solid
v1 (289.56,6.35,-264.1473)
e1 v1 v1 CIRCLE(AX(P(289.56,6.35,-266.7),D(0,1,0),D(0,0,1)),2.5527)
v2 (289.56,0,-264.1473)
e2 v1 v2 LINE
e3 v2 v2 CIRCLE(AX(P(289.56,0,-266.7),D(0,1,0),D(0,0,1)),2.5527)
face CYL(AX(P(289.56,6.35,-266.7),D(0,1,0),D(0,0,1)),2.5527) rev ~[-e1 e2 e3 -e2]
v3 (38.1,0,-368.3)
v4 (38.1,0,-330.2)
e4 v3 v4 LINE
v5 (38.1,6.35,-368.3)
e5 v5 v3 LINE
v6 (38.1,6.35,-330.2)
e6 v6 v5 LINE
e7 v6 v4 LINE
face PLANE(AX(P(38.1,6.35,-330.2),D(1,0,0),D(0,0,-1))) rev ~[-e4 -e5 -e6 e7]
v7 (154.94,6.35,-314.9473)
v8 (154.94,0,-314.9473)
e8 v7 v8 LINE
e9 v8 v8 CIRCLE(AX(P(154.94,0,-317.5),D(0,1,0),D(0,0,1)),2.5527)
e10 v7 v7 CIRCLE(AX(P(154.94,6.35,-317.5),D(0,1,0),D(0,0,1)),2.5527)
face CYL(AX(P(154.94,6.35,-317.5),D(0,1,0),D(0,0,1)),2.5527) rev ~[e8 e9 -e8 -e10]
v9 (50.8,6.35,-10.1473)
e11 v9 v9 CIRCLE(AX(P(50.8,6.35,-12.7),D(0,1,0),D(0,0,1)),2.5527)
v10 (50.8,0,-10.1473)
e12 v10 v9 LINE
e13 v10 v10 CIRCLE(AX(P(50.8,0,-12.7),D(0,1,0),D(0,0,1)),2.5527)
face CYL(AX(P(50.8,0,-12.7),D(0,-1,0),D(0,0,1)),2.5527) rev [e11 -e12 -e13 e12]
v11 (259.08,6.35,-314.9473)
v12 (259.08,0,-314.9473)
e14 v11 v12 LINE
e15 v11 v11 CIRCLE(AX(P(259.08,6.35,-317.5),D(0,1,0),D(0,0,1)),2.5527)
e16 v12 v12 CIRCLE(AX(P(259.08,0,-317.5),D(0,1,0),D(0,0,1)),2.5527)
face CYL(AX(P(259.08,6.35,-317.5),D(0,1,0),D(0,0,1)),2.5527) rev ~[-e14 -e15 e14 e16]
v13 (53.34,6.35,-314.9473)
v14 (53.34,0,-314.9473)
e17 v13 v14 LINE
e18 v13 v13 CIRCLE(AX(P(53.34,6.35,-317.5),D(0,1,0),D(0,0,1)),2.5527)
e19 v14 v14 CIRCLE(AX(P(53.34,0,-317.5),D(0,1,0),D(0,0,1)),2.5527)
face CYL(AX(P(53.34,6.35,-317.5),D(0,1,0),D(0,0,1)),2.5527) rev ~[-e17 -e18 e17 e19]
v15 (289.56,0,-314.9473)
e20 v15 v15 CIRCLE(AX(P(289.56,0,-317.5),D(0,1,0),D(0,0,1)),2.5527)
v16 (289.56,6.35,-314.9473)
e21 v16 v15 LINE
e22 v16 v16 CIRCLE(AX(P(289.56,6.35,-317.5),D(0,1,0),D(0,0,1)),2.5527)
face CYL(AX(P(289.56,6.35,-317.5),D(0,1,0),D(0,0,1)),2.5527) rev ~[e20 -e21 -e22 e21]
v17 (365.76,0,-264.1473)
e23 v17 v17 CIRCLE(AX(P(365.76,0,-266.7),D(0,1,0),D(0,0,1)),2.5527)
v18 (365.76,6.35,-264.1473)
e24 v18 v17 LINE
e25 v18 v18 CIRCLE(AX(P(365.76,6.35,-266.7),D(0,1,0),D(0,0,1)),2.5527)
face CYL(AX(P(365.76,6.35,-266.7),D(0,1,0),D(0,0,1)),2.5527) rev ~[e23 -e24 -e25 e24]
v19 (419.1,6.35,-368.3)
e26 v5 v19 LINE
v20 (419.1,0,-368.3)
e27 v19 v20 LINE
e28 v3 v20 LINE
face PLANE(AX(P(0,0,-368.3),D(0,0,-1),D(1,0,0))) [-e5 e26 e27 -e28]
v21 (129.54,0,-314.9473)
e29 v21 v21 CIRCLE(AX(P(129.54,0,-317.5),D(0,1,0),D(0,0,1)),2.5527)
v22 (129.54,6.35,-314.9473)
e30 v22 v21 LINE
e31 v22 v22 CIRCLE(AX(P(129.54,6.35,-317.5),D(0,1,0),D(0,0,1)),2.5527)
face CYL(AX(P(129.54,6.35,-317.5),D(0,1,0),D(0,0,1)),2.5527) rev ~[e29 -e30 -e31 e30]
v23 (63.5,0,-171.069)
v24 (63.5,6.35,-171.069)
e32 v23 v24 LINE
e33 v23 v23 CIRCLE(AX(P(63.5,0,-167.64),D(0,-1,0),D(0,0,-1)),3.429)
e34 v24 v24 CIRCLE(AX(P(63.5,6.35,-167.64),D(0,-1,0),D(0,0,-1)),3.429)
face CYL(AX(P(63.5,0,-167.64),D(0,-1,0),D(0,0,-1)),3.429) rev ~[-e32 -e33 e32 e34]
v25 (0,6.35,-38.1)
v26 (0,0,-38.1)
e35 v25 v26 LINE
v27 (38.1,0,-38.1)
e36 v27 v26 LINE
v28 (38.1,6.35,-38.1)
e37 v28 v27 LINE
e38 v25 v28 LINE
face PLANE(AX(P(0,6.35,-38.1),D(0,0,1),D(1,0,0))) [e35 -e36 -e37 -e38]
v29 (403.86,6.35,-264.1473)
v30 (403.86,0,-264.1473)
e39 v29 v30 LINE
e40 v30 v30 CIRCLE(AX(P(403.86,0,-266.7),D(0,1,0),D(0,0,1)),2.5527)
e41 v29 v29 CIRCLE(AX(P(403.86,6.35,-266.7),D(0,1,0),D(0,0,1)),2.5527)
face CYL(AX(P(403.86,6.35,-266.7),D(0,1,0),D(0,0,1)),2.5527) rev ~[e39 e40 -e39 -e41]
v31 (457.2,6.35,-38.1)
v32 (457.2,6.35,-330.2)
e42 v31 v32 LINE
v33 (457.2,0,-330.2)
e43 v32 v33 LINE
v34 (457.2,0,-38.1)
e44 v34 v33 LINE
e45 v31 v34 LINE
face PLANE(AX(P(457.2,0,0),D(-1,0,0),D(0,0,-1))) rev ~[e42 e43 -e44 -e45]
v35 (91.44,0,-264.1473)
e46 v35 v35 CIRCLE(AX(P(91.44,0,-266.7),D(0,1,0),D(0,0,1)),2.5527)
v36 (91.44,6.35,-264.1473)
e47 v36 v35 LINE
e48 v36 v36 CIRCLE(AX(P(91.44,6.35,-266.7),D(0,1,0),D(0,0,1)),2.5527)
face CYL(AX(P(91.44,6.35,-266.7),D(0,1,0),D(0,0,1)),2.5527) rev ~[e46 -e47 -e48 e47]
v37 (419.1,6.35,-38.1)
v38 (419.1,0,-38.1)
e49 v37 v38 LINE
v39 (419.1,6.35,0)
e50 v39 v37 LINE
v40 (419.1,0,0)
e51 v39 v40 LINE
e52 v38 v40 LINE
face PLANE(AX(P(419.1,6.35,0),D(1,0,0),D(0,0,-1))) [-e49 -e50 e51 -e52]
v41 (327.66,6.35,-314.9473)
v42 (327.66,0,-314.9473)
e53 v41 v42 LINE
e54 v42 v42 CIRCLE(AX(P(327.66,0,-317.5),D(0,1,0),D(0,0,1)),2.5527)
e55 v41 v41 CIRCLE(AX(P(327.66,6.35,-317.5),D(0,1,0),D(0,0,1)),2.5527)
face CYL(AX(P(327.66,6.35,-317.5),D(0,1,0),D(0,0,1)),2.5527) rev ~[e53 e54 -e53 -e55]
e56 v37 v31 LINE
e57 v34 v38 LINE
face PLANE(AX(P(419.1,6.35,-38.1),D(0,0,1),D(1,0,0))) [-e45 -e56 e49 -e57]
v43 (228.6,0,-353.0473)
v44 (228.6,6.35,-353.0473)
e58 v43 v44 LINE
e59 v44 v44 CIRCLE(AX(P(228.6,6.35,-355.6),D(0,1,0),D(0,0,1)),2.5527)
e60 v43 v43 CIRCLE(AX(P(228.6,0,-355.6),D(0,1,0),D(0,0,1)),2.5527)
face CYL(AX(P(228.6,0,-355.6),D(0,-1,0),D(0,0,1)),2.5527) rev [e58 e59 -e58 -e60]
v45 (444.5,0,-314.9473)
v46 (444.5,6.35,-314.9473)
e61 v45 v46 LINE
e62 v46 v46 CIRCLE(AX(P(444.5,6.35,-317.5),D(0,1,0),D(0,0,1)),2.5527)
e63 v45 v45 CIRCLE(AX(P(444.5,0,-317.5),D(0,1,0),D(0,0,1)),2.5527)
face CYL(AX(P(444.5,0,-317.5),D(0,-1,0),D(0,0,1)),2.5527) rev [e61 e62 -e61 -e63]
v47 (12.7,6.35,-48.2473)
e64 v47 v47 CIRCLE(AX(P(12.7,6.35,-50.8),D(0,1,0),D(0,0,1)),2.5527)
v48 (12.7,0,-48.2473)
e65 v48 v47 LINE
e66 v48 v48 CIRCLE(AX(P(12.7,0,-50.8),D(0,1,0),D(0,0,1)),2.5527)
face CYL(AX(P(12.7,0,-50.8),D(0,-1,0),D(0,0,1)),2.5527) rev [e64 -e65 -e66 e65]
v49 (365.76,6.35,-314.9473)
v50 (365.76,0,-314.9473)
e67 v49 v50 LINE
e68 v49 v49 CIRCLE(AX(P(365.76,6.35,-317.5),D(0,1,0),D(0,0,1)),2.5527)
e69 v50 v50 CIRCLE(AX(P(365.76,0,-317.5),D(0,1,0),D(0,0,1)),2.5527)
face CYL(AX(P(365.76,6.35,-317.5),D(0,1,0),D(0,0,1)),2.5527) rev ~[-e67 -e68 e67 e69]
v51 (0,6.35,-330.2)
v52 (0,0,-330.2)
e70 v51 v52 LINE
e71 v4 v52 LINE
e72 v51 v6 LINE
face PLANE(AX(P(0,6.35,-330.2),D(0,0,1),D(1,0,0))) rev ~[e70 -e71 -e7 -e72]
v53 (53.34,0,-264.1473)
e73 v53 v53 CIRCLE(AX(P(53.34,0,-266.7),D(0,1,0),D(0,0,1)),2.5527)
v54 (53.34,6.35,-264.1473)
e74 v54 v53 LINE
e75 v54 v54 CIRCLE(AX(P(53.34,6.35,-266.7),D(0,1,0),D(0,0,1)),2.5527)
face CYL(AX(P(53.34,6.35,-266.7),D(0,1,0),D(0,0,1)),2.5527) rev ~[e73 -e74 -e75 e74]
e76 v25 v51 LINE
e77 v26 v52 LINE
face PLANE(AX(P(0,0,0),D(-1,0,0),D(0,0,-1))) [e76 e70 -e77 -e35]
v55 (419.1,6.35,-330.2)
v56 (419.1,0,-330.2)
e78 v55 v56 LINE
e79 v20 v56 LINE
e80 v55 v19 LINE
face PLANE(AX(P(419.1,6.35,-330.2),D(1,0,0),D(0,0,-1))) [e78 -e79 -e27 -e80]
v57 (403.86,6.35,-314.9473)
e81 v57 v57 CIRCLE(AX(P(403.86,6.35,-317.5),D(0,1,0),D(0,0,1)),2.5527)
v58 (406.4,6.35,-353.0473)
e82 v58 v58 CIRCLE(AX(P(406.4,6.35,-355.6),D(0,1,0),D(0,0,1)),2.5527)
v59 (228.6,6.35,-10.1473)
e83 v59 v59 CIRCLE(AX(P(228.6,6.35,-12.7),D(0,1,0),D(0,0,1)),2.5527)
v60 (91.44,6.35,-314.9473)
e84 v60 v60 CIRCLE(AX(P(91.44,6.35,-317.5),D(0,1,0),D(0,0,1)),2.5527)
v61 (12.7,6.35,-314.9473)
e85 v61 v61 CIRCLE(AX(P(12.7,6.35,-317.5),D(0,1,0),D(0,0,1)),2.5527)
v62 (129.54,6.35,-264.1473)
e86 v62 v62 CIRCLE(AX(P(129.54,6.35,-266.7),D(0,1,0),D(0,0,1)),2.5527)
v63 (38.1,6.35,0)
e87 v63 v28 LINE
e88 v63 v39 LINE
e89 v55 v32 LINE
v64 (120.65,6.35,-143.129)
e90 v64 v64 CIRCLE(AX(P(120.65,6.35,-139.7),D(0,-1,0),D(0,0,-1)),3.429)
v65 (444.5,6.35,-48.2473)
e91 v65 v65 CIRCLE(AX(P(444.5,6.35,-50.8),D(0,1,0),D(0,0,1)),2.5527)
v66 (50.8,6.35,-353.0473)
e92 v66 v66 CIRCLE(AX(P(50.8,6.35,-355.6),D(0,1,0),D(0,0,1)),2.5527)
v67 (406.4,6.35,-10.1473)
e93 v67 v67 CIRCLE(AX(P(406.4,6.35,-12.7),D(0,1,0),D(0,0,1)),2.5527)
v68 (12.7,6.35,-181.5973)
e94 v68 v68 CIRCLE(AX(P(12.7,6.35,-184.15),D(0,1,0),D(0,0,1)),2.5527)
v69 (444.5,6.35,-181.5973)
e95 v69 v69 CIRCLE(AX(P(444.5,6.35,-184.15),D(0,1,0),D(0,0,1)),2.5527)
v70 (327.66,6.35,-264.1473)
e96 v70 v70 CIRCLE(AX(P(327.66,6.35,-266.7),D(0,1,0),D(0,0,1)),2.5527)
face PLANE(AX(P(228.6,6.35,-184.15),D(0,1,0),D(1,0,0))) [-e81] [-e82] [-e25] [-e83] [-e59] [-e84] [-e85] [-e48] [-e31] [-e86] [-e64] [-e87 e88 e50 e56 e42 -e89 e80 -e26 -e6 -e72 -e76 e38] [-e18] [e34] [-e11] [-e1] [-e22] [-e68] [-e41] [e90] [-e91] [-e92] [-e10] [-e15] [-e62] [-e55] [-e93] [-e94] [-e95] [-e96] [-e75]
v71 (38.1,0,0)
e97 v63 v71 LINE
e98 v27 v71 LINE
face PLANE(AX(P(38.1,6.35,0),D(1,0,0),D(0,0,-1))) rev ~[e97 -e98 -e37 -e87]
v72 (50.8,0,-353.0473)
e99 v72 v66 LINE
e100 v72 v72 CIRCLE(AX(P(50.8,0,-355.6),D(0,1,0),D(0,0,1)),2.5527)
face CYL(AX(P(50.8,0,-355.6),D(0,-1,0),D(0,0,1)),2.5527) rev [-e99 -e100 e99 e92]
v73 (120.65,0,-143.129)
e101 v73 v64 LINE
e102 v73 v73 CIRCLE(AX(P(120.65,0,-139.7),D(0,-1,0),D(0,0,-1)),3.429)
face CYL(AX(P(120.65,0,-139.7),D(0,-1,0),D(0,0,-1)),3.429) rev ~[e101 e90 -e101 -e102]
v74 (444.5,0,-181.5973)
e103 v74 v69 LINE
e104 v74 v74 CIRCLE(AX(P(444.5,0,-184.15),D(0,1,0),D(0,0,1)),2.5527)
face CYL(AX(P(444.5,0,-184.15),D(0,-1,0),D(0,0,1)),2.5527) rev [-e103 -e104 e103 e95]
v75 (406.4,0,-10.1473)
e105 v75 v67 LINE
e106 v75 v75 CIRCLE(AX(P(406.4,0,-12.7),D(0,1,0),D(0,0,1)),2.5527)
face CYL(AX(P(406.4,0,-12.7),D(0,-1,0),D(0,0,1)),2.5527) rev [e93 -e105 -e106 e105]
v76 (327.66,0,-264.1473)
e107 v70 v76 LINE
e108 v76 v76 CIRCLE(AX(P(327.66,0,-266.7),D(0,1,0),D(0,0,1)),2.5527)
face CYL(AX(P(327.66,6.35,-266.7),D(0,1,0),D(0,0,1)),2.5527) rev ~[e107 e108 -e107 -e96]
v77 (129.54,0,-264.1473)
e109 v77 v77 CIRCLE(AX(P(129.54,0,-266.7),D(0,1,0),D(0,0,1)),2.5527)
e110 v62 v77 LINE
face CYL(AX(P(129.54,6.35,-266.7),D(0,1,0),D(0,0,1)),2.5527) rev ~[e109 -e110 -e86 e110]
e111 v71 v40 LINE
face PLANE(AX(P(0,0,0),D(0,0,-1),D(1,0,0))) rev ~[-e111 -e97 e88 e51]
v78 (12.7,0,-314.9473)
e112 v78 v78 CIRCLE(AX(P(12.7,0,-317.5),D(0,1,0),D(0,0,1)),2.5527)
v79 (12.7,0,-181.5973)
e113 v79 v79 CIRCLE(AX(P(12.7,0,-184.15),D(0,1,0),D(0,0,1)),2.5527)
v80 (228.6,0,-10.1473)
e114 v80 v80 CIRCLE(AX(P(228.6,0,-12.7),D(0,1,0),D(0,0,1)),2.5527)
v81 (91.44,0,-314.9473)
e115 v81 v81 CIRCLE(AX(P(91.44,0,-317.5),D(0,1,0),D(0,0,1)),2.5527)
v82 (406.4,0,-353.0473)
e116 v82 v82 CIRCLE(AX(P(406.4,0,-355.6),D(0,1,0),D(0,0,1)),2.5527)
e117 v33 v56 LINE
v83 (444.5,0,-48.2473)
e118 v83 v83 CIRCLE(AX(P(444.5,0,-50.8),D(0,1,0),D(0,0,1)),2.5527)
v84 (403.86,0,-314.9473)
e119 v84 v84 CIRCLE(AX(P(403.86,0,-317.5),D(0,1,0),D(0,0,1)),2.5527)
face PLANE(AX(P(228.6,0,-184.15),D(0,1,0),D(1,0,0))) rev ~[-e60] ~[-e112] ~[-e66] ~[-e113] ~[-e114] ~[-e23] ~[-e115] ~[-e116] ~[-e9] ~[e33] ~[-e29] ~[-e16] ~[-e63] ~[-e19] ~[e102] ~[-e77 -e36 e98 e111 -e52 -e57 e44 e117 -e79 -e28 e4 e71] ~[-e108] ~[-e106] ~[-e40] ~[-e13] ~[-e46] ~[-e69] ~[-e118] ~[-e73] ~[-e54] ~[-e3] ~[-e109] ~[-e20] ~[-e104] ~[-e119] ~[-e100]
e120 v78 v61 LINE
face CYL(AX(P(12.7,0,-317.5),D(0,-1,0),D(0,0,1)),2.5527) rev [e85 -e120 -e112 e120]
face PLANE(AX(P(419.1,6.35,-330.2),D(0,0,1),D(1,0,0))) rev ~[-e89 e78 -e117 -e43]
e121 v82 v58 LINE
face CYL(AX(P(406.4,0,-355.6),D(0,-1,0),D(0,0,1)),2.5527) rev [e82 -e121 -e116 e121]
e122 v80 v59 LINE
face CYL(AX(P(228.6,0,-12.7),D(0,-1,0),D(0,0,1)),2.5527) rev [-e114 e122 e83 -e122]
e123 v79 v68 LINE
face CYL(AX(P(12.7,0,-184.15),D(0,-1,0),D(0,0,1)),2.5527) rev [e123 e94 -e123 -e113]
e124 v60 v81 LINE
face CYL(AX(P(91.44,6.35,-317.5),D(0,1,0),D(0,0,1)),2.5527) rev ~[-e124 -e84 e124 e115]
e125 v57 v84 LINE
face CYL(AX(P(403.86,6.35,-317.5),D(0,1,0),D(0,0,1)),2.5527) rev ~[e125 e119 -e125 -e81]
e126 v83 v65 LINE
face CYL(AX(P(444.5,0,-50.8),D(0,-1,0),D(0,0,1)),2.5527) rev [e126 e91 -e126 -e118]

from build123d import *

# Parameters (mm, degrees)
SKETCH1_W           = 457.2
SKETCH1_H           = 368.3
SKETCH1_R           = 2.5527
BOSS_EXTRUDE1_DEPTH = 6.35
CUT_EXTRUDE1_REACH  = 589.126
SKETCH2_W           = 38.1
SKETCH2_H           = 38.1
CUT_EXTRUDE2_REACH  = 589.126
SKETCH3_R           = 2.5527
CUT_EXTRUDE3_REACH  = 589.126
SKETCH5_R           = 3.429


with BuildPart() as part:
    # Sketch1 → Boss-Extrude1 (new body)
    with BuildSketch(Plane(origin=(0, 0, 0), x_dir=(1, 0, 0), z_dir=(0, 1, 0))):
        with Locations((228.6, 184.15)):
            Rectangle(SKETCH1_W, SKETCH1_H)
        with Locations(Location((50.8, 355.6, 0), (0, 0, 270))):
            Circle(SKETCH1_R, mode=Mode.SUBTRACT)
        with Locations(Location((406.4, 355.6, 0), (0, 0, 270))):
            Circle(SKETCH1_R, mode=Mode.SUBTRACT)
        with Locations(Location((406.4, 12.7, 0), (0, 0, 270))):
            Circle(SKETCH1_R, mode=Mode.SUBTRACT)
        with Locations(Location((50.8, 12.7, 0), (0, 0, 270))):
            Circle(SKETCH1_R, mode=Mode.SUBTRACT)
        with Locations(Location((228.6, 12.7, 0), (0, 0, 270))):
            Circle(SKETCH1_R, mode=Mode.SUBTRACT)
        with Locations(Location((228.6, 355.6, 0), (0, 0, 270))):
            Circle(SKETCH1_R, mode=Mode.SUBTRACT)
        with Locations(Location((12.7, 184.15, 0), (0, 0, 270))):
            Circle(SKETCH1_R, mode=Mode.SUBTRACT)
        with Locations(Location((444.5, 184.15, 0), (0, 0, 270))):
            Circle(SKETCH1_R, mode=Mode.SUBTRACT)
        with Locations(Location((12.7, 50.8, 0), (0, 0, 270))):
            Circle(SKETCH1_R, mode=Mode.SUBTRACT)
        with Locations(Location((444.5, 50.8, 0), (0, 0, 270))):
            Circle(SKETCH1_R, mode=Mode.SUBTRACT)
        with Locations(Location((444.5, 317.5, 0), (0, 0, 270))):
            Circle(SKETCH1_R, mode=Mode.SUBTRACT)
        with Locations(Location((12.7, 317.5, 0), (0, 0, 270))):
            Circle(SKETCH1_R, mode=Mode.SUBTRACT)
    extrude(amount=BOSS_EXTRUDE1_DEPTH)

    # Sketch2 → Cut-Extrude1 (cut, up to next)
    with BuildSketch(Plane(origin=(0, 6.35, 0), x_dir=(1, 0, 0), z_dir=(0, 1, 0)), mode=Mode.PRIVATE) as cut_extrude1_sk1:
        with Locations((19.05, 19.05)):
            Rectangle(SKETCH2_W, SKETCH2_H)
    cut_extrude1_tool1 = extrude(cut_extrude1_sk1.sketch, amount=-CUT_EXTRUDE1_REACH, mode=Mode.PRIVATE) & part.part
    # Sketch2 → Cut-Extrude1 (cut, up to next)
    with BuildSketch(Plane(origin=(0, 6.35, 0), x_dir=(1, 0, 0), z_dir=(0, 1, 0)), mode=Mode.PRIVATE) as cut_extrude1_sk2:
        with Locations((19.05, 349.25)):
            Rectangle(SKETCH2_W, SKETCH2_H)
    cut_extrude1_tool2 = extrude(cut_extrude1_sk2.sketch, amount=-CUT_EXTRUDE1_REACH, mode=Mode.PRIVATE) & part.part
    # Sketch2 → Cut-Extrude1 (cut, up to next)
    with BuildSketch(Plane(origin=(0, 6.35, 0), x_dir=(1, 0, 0), z_dir=(0, 1, 0)), mode=Mode.PRIVATE) as cut_extrude1_sk3:
        with Locations((438.15, 349.25)):
            Rectangle(SKETCH2_W, SKETCH2_H)
    cut_extrude1_tool3 = extrude(cut_extrude1_sk3.sketch, amount=-CUT_EXTRUDE1_REACH, mode=Mode.PRIVATE) & part.part
    # Sketch2 → Cut-Extrude1 (cut, up to next)
    with BuildSketch(Plane(origin=(0, 6.35, 0), x_dir=(1, 0, 0), z_dir=(0, 1, 0)), mode=Mode.PRIVATE) as cut_extrude1_sk4:
        with Locations((438.15, 19.05)):
            Rectangle(SKETCH2_W, SKETCH2_H)
    cut_extrude1_tool4 = extrude(cut_extrude1_sk4.sketch, amount=-CUT_EXTRUDE1_REACH, mode=Mode.PRIVATE) & part.part
    add(cut_extrude1_tool1.solids().sort_by_distance((19.05, 6.35, -19.05))[0], mode=Mode.SUBTRACT)
    add(cut_extrude1_tool2.solids().sort_by_distance((19.05, 6.35, -349.25))[0], mode=Mode.SUBTRACT)
    add(cut_extrude1_tool3.solids().sort_by_distance((438.15, 6.35, -349.25))[0], mode=Mode.SUBTRACT)
    add(cut_extrude1_tool4.solids().sort_by_distance((438.15, 6.35, -19.05))[0], mode=Mode.SUBTRACT)

    # Sketch3 → Cut-Extrude2 (cut, up to next)
    with BuildSketch(Plane(origin=(0, 6.35, 0), x_dir=(1, 0, 0), z_dir=(0, 1, 0)), mode=Mode.PRIVATE) as cut_extrude2_sk1:
        with Locations(Location((53.34, 266.7, 0), (0, 0, 270))):
            Circle(SKETCH3_R)
    cut_extrude2_tool1 = extrude(cut_extrude2_sk1.sketch, amount=-CUT_EXTRUDE2_REACH, mode=Mode.PRIVATE) & part.part
    # Sketch3 → Cut-Extrude2 (cut, up to next)
    with BuildSketch(Plane(origin=(0, 6.35, 0), x_dir=(1, 0, 0), z_dir=(0, 1, 0)), mode=Mode.PRIVATE) as cut_extrude2_sk2:
        with Locations(Location((53.34, 317.5, 0), (0, 0, 270))):
            Circle(SKETCH3_R)
    cut_extrude2_tool2 = extrude(cut_extrude2_sk2.sketch, amount=-CUT_EXTRUDE2_REACH, mode=Mode.PRIVATE) & part.part
    # Sketch3 → Cut-Extrude2 (cut, up to next)
    with BuildSketch(Plane(origin=(0, 6.35, 0), x_dir=(1, 0, 0), z_dir=(0, 1, 0)), mode=Mode.PRIVATE) as cut_extrude2_sk3:
        with Locations(Location((91.44, 266.7, 0), (0, 0, 270))):
            Circle(SKETCH3_R)
    cut_extrude2_tool3 = extrude(cut_extrude2_sk3.sketch, amount=-CUT_EXTRUDE2_REACH, mode=Mode.PRIVATE) & part.part
    # Sketch3 → Cut-Extrude2 (cut, up to next)
    with BuildSketch(Plane(origin=(0, 6.35, 0), x_dir=(1, 0, 0), z_dir=(0, 1, 0)), mode=Mode.PRIVATE) as cut_extrude2_sk4:
        with Locations(Location((91.44, 317.5, 0), (0, 0, 270))):
            Circle(SKETCH3_R)
    cut_extrude2_tool4 = extrude(cut_extrude2_sk4.sketch, amount=-CUT_EXTRUDE2_REACH, mode=Mode.PRIVATE) & part.part
    # Sketch3 → Cut-Extrude2 (cut, up to next)
    with BuildSketch(Plane(origin=(0, 6.35, 0), x_dir=(1, 0, 0), z_dir=(0, 1, 0)), mode=Mode.PRIVATE) as cut_extrude2_sk5:
        with Locations(Location((129.54, 266.7, 0), (0, 0, 270))):
            Circle(SKETCH3_R)
    cut_extrude2_tool5 = extrude(cut_extrude2_sk5.sketch, amount=-CUT_EXTRUDE2_REACH, mode=Mode.PRIVATE) & part.part
    # Sketch3 → Cut-Extrude2 (cut, up to next)
    with BuildSketch(Plane(origin=(0, 6.35, 0), x_dir=(1, 0, 0), z_dir=(0, 1, 0)), mode=Mode.PRIVATE) as cut_extrude2_sk6:
        with Locations(Location((129.54, 317.5, 0), (0, 0, 270))):
            Circle(SKETCH3_R)
    cut_extrude2_tool6 = extrude(cut_extrude2_sk6.sketch, amount=-CUT_EXTRUDE2_REACH, mode=Mode.PRIVATE) & part.part
    # Sketch3 → Cut-Extrude2 (cut, up to next)
    with BuildSketch(Plane(origin=(0, 6.35, 0), x_dir=(1, 0, 0), z_dir=(0, 1, 0)), mode=Mode.PRIVATE) as cut_extrude2_sk7:
        with Locations(Location((289.56, 266.7, 0), (0, 0, 270))):
            Circle(SKETCH3_R)
    cut_extrude2_tool7 = extrude(cut_extrude2_sk7.sketch, amount=-CUT_EXTRUDE2_REACH, mode=Mode.PRIVATE) & part.part
    # Sketch3 → Cut-Extrude2 (cut, up to next)
    with BuildSketch(Plane(origin=(0, 6.35, 0), x_dir=(1, 0, 0), z_dir=(0, 1, 0)), mode=Mode.PRIVATE) as cut_extrude2_sk8:
        with Locations(Location((289.56, 317.5, 0), (0, 0, 270))):
            Circle(SKETCH3_R)
    cut_extrude2_tool8 = extrude(cut_extrude2_sk8.sketch, amount=-CUT_EXTRUDE2_REACH, mode=Mode.PRIVATE) & part.part
    # Sketch3 → Cut-Extrude2 (cut, up to next)
    with BuildSketch(Plane(origin=(0, 6.35, 0), x_dir=(1, 0, 0), z_dir=(0, 1, 0)), mode=Mode.PRIVATE) as cut_extrude2_sk9:
        with Locations(Location((403.86, 266.7, 0), (0, 0, 270))):
            Circle(SKETCH3_R)
    cut_extrude2_tool9 = extrude(cut_extrude2_sk9.sketch, amount=-CUT_EXTRUDE2_REACH, mode=Mode.PRIVATE) & part.part
    # Sketch3 → Cut-Extrude2 (cut, up to next)
    with BuildSketch(Plane(origin=(0, 6.35, 0), x_dir=(1, 0, 0), z_dir=(0, 1, 0)), mode=Mode.PRIVATE) as cut_extrude2_sk10:
        with Locations(Location((403.86, 317.5, 0), (0, 0, 270))):
            Circle(SKETCH3_R)
    cut_extrude2_tool10 = extrude(cut_extrude2_sk10.sketch, amount=-CUT_EXTRUDE2_REACH, mode=Mode.PRIVATE) & part.part
    # Sketch3 → Cut-Extrude2 (cut, up to next)
    with BuildSketch(Plane(origin=(0, 6.35, 0), x_dir=(1, 0, 0), z_dir=(0, 1, 0)), mode=Mode.PRIVATE) as cut_extrude2_sk11:
        with Locations(Location((365.76, 266.7, 0), (0, 0, 270))):
            Circle(SKETCH3_R)
    cut_extrude2_tool11 = extrude(cut_extrude2_sk11.sketch, amount=-CUT_EXTRUDE2_REACH, mode=Mode.PRIVATE) & part.part
    # Sketch3 → Cut-Extrude2 (cut, up to next)
    with BuildSketch(Plane(origin=(0, 6.35, 0), x_dir=(1, 0, 0), z_dir=(0, 1, 0)), mode=Mode.PRIVATE) as cut_extrude2_sk12:
        with Locations(Location((365.76, 317.5, 0), (0, 0, 270))):
            Circle(SKETCH3_R)
    cut_extrude2_tool12 = extrude(cut_extrude2_sk12.sketch, amount=-CUT_EXTRUDE2_REACH, mode=Mode.PRIVATE) & part.part
    # Sketch3 → Cut-Extrude2 (cut, up to next)
    with BuildSketch(Plane(origin=(0, 6.35, 0), x_dir=(1, 0, 0), z_dir=(0, 1, 0)), mode=Mode.PRIVATE) as cut_extrude2_sk13:
        with Locations(Location((327.66, 266.7, 0), (0, 0, 270))):
            Circle(SKETCH3_R)
    cut_extrude2_tool13 = extrude(cut_extrude2_sk13.sketch, amount=-CUT_EXTRUDE2_REACH, mode=Mode.PRIVATE) & part.part
    # Sketch3 → Cut-Extrude2 (cut, up to next)
    with BuildSketch(Plane(origin=(0, 6.35, 0), x_dir=(1, 0, 0), z_dir=(0, 1, 0)), mode=Mode.PRIVATE) as cut_extrude2_sk14:
        with Locations(Location((327.66, 317.5, 0), (0, 0, 270))):
            Circle(SKETCH3_R)
    cut_extrude2_tool14 = extrude(cut_extrude2_sk14.sketch, amount=-CUT_EXTRUDE2_REACH, mode=Mode.PRIVATE) & part.part
    # Sketch3 → Cut-Extrude2 (cut, up to next)
    with BuildSketch(Plane(origin=(0, 6.35, 0), x_dir=(1, 0, 0), z_dir=(0, 1, 0)), mode=Mode.PRIVATE) as cut_extrude2_sk15:
        with Locations(Location((259.08, 317.5, 0), (0, 0, 270))):
            Circle(SKETCH3_R)
    cut_extrude2_tool15 = extrude(cut_extrude2_sk15.sketch, amount=-CUT_EXTRUDE2_REACH, mode=Mode.PRIVATE) & part.part
    # Sketch3 → Cut-Extrude2 (cut, up to next)
    with BuildSketch(Plane(origin=(0, 6.35, 0), x_dir=(1, 0, 0), z_dir=(0, 1, 0)), mode=Mode.PRIVATE) as cut_extrude2_sk16:
        with Locations(Location((154.94, 317.5, 0), (0, 0, 270))):
            Circle(SKETCH3_R)
    cut_extrude2_tool16 = extrude(cut_extrude2_sk16.sketch, amount=-CUT_EXTRUDE2_REACH, mode=Mode.PRIVATE) & part.part
    add(cut_extrude2_tool1.solids().sort_by_distance((53.34, 6.35, -266.7))[0], mode=Mode.SUBTRACT)
    add(cut_extrude2_tool2.solids().sort_by_distance((53.34, 6.35, -317.5))[0], mode=Mode.SUBTRACT)
    add(cut_extrude2_tool3.solids().sort_by_distance((91.44, 6.35, -266.7))[0], mode=Mode.SUBTRACT)
    add(cut_extrude2_tool4.solids().sort_by_distance((91.44, 6.35, -317.5))[0], mode=Mode.SUBTRACT)
    add(cut_extrude2_tool5.solids().sort_by_distance((129.54, 6.35, -266.7))[0], mode=Mode.SUBTRACT)
    add(cut_extrude2_tool6.solids().sort_by_distance((129.54, 6.35, -317.5))[0], mode=Mode.SUBTRACT)
    add(cut_extrude2_tool7.solids().sort_by_distance((289.56, 6.35, -266.7))[0], mode=Mode.SUBTRACT)
    add(cut_extrude2_tool8.solids().sort_by_distance((289.56, 6.35, -317.5))[0], mode=Mode.SUBTRACT)
    add(cut_extrude2_tool9.solids().sort_by_distance((403.86, 6.35, -266.7))[0], mode=Mode.SUBTRACT)
    add(cut_extrude2_tool10.solids().sort_by_distance((403.86, 6.35, -317.5))[0], mode=Mode.SUBTRACT)
    add(cut_extrude2_tool11.solids().sort_by_distance((365.76, 6.35, -266.7))[0], mode=Mode.SUBTRACT)
    add(cut_extrude2_tool12.solids().sort_by_distance((365.76, 6.35, -317.5))[0], mode=Mode.SUBTRACT)
    add(cut_extrude2_tool13.solids().sort_by_distance((327.66, 6.35, -266.7))[0], mode=Mode.SUBTRACT)
    add(cut_extrude2_tool14.solids().sort_by_distance((327.66, 6.35, -317.5))[0], mode=Mode.SUBTRACT)
    add(cut_extrude2_tool15.solids().sort_by_distance((259.08, 6.35, -317.5))[0], mode=Mode.SUBTRACT)
    add(cut_extrude2_tool16.solids().sort_by_distance((154.94, 6.35, -317.5))[0], mode=Mode.SUBTRACT)

    # Sketch5 → Cut-Extrude3 (cut, up to next)
    with BuildSketch(Plane.XZ, mode=Mode.PRIVATE) as cut_extrude3_sk1:
        with Locations(Location((63.5, -167.64, 0), (0, 0, 270))):
            Circle(SKETCH5_R)
    cut_extrude3_tool1 = extrude(cut_extrude3_sk1.sketch, amount=-CUT_EXTRUDE3_REACH, mode=Mode.PRIVATE) & part.part
    # Sketch5 → Cut-Extrude3 (cut, up to next)
    with BuildSketch(Plane.XZ, mode=Mode.PRIVATE) as cut_extrude3_sk2:
        with Locations(Location((120.65, -139.7, 0), (0, 0, 270))):
            Circle(SKETCH5_R)
    cut_extrude3_tool2 = extrude(cut_extrude3_sk2.sketch, amount=-CUT_EXTRUDE3_REACH, mode=Mode.PRIVATE) & part.part
    add(cut_extrude3_tool1.solids().sort_by_distance((63.5, 0, -167.64))[0], mode=Mode.SUBTRACT)
    add(cut_extrude3_tool2.solids().sort_by_distance((120.65, 0, -139.7))[0], mode=Mode.SUBTRACT)


solid = part.part
